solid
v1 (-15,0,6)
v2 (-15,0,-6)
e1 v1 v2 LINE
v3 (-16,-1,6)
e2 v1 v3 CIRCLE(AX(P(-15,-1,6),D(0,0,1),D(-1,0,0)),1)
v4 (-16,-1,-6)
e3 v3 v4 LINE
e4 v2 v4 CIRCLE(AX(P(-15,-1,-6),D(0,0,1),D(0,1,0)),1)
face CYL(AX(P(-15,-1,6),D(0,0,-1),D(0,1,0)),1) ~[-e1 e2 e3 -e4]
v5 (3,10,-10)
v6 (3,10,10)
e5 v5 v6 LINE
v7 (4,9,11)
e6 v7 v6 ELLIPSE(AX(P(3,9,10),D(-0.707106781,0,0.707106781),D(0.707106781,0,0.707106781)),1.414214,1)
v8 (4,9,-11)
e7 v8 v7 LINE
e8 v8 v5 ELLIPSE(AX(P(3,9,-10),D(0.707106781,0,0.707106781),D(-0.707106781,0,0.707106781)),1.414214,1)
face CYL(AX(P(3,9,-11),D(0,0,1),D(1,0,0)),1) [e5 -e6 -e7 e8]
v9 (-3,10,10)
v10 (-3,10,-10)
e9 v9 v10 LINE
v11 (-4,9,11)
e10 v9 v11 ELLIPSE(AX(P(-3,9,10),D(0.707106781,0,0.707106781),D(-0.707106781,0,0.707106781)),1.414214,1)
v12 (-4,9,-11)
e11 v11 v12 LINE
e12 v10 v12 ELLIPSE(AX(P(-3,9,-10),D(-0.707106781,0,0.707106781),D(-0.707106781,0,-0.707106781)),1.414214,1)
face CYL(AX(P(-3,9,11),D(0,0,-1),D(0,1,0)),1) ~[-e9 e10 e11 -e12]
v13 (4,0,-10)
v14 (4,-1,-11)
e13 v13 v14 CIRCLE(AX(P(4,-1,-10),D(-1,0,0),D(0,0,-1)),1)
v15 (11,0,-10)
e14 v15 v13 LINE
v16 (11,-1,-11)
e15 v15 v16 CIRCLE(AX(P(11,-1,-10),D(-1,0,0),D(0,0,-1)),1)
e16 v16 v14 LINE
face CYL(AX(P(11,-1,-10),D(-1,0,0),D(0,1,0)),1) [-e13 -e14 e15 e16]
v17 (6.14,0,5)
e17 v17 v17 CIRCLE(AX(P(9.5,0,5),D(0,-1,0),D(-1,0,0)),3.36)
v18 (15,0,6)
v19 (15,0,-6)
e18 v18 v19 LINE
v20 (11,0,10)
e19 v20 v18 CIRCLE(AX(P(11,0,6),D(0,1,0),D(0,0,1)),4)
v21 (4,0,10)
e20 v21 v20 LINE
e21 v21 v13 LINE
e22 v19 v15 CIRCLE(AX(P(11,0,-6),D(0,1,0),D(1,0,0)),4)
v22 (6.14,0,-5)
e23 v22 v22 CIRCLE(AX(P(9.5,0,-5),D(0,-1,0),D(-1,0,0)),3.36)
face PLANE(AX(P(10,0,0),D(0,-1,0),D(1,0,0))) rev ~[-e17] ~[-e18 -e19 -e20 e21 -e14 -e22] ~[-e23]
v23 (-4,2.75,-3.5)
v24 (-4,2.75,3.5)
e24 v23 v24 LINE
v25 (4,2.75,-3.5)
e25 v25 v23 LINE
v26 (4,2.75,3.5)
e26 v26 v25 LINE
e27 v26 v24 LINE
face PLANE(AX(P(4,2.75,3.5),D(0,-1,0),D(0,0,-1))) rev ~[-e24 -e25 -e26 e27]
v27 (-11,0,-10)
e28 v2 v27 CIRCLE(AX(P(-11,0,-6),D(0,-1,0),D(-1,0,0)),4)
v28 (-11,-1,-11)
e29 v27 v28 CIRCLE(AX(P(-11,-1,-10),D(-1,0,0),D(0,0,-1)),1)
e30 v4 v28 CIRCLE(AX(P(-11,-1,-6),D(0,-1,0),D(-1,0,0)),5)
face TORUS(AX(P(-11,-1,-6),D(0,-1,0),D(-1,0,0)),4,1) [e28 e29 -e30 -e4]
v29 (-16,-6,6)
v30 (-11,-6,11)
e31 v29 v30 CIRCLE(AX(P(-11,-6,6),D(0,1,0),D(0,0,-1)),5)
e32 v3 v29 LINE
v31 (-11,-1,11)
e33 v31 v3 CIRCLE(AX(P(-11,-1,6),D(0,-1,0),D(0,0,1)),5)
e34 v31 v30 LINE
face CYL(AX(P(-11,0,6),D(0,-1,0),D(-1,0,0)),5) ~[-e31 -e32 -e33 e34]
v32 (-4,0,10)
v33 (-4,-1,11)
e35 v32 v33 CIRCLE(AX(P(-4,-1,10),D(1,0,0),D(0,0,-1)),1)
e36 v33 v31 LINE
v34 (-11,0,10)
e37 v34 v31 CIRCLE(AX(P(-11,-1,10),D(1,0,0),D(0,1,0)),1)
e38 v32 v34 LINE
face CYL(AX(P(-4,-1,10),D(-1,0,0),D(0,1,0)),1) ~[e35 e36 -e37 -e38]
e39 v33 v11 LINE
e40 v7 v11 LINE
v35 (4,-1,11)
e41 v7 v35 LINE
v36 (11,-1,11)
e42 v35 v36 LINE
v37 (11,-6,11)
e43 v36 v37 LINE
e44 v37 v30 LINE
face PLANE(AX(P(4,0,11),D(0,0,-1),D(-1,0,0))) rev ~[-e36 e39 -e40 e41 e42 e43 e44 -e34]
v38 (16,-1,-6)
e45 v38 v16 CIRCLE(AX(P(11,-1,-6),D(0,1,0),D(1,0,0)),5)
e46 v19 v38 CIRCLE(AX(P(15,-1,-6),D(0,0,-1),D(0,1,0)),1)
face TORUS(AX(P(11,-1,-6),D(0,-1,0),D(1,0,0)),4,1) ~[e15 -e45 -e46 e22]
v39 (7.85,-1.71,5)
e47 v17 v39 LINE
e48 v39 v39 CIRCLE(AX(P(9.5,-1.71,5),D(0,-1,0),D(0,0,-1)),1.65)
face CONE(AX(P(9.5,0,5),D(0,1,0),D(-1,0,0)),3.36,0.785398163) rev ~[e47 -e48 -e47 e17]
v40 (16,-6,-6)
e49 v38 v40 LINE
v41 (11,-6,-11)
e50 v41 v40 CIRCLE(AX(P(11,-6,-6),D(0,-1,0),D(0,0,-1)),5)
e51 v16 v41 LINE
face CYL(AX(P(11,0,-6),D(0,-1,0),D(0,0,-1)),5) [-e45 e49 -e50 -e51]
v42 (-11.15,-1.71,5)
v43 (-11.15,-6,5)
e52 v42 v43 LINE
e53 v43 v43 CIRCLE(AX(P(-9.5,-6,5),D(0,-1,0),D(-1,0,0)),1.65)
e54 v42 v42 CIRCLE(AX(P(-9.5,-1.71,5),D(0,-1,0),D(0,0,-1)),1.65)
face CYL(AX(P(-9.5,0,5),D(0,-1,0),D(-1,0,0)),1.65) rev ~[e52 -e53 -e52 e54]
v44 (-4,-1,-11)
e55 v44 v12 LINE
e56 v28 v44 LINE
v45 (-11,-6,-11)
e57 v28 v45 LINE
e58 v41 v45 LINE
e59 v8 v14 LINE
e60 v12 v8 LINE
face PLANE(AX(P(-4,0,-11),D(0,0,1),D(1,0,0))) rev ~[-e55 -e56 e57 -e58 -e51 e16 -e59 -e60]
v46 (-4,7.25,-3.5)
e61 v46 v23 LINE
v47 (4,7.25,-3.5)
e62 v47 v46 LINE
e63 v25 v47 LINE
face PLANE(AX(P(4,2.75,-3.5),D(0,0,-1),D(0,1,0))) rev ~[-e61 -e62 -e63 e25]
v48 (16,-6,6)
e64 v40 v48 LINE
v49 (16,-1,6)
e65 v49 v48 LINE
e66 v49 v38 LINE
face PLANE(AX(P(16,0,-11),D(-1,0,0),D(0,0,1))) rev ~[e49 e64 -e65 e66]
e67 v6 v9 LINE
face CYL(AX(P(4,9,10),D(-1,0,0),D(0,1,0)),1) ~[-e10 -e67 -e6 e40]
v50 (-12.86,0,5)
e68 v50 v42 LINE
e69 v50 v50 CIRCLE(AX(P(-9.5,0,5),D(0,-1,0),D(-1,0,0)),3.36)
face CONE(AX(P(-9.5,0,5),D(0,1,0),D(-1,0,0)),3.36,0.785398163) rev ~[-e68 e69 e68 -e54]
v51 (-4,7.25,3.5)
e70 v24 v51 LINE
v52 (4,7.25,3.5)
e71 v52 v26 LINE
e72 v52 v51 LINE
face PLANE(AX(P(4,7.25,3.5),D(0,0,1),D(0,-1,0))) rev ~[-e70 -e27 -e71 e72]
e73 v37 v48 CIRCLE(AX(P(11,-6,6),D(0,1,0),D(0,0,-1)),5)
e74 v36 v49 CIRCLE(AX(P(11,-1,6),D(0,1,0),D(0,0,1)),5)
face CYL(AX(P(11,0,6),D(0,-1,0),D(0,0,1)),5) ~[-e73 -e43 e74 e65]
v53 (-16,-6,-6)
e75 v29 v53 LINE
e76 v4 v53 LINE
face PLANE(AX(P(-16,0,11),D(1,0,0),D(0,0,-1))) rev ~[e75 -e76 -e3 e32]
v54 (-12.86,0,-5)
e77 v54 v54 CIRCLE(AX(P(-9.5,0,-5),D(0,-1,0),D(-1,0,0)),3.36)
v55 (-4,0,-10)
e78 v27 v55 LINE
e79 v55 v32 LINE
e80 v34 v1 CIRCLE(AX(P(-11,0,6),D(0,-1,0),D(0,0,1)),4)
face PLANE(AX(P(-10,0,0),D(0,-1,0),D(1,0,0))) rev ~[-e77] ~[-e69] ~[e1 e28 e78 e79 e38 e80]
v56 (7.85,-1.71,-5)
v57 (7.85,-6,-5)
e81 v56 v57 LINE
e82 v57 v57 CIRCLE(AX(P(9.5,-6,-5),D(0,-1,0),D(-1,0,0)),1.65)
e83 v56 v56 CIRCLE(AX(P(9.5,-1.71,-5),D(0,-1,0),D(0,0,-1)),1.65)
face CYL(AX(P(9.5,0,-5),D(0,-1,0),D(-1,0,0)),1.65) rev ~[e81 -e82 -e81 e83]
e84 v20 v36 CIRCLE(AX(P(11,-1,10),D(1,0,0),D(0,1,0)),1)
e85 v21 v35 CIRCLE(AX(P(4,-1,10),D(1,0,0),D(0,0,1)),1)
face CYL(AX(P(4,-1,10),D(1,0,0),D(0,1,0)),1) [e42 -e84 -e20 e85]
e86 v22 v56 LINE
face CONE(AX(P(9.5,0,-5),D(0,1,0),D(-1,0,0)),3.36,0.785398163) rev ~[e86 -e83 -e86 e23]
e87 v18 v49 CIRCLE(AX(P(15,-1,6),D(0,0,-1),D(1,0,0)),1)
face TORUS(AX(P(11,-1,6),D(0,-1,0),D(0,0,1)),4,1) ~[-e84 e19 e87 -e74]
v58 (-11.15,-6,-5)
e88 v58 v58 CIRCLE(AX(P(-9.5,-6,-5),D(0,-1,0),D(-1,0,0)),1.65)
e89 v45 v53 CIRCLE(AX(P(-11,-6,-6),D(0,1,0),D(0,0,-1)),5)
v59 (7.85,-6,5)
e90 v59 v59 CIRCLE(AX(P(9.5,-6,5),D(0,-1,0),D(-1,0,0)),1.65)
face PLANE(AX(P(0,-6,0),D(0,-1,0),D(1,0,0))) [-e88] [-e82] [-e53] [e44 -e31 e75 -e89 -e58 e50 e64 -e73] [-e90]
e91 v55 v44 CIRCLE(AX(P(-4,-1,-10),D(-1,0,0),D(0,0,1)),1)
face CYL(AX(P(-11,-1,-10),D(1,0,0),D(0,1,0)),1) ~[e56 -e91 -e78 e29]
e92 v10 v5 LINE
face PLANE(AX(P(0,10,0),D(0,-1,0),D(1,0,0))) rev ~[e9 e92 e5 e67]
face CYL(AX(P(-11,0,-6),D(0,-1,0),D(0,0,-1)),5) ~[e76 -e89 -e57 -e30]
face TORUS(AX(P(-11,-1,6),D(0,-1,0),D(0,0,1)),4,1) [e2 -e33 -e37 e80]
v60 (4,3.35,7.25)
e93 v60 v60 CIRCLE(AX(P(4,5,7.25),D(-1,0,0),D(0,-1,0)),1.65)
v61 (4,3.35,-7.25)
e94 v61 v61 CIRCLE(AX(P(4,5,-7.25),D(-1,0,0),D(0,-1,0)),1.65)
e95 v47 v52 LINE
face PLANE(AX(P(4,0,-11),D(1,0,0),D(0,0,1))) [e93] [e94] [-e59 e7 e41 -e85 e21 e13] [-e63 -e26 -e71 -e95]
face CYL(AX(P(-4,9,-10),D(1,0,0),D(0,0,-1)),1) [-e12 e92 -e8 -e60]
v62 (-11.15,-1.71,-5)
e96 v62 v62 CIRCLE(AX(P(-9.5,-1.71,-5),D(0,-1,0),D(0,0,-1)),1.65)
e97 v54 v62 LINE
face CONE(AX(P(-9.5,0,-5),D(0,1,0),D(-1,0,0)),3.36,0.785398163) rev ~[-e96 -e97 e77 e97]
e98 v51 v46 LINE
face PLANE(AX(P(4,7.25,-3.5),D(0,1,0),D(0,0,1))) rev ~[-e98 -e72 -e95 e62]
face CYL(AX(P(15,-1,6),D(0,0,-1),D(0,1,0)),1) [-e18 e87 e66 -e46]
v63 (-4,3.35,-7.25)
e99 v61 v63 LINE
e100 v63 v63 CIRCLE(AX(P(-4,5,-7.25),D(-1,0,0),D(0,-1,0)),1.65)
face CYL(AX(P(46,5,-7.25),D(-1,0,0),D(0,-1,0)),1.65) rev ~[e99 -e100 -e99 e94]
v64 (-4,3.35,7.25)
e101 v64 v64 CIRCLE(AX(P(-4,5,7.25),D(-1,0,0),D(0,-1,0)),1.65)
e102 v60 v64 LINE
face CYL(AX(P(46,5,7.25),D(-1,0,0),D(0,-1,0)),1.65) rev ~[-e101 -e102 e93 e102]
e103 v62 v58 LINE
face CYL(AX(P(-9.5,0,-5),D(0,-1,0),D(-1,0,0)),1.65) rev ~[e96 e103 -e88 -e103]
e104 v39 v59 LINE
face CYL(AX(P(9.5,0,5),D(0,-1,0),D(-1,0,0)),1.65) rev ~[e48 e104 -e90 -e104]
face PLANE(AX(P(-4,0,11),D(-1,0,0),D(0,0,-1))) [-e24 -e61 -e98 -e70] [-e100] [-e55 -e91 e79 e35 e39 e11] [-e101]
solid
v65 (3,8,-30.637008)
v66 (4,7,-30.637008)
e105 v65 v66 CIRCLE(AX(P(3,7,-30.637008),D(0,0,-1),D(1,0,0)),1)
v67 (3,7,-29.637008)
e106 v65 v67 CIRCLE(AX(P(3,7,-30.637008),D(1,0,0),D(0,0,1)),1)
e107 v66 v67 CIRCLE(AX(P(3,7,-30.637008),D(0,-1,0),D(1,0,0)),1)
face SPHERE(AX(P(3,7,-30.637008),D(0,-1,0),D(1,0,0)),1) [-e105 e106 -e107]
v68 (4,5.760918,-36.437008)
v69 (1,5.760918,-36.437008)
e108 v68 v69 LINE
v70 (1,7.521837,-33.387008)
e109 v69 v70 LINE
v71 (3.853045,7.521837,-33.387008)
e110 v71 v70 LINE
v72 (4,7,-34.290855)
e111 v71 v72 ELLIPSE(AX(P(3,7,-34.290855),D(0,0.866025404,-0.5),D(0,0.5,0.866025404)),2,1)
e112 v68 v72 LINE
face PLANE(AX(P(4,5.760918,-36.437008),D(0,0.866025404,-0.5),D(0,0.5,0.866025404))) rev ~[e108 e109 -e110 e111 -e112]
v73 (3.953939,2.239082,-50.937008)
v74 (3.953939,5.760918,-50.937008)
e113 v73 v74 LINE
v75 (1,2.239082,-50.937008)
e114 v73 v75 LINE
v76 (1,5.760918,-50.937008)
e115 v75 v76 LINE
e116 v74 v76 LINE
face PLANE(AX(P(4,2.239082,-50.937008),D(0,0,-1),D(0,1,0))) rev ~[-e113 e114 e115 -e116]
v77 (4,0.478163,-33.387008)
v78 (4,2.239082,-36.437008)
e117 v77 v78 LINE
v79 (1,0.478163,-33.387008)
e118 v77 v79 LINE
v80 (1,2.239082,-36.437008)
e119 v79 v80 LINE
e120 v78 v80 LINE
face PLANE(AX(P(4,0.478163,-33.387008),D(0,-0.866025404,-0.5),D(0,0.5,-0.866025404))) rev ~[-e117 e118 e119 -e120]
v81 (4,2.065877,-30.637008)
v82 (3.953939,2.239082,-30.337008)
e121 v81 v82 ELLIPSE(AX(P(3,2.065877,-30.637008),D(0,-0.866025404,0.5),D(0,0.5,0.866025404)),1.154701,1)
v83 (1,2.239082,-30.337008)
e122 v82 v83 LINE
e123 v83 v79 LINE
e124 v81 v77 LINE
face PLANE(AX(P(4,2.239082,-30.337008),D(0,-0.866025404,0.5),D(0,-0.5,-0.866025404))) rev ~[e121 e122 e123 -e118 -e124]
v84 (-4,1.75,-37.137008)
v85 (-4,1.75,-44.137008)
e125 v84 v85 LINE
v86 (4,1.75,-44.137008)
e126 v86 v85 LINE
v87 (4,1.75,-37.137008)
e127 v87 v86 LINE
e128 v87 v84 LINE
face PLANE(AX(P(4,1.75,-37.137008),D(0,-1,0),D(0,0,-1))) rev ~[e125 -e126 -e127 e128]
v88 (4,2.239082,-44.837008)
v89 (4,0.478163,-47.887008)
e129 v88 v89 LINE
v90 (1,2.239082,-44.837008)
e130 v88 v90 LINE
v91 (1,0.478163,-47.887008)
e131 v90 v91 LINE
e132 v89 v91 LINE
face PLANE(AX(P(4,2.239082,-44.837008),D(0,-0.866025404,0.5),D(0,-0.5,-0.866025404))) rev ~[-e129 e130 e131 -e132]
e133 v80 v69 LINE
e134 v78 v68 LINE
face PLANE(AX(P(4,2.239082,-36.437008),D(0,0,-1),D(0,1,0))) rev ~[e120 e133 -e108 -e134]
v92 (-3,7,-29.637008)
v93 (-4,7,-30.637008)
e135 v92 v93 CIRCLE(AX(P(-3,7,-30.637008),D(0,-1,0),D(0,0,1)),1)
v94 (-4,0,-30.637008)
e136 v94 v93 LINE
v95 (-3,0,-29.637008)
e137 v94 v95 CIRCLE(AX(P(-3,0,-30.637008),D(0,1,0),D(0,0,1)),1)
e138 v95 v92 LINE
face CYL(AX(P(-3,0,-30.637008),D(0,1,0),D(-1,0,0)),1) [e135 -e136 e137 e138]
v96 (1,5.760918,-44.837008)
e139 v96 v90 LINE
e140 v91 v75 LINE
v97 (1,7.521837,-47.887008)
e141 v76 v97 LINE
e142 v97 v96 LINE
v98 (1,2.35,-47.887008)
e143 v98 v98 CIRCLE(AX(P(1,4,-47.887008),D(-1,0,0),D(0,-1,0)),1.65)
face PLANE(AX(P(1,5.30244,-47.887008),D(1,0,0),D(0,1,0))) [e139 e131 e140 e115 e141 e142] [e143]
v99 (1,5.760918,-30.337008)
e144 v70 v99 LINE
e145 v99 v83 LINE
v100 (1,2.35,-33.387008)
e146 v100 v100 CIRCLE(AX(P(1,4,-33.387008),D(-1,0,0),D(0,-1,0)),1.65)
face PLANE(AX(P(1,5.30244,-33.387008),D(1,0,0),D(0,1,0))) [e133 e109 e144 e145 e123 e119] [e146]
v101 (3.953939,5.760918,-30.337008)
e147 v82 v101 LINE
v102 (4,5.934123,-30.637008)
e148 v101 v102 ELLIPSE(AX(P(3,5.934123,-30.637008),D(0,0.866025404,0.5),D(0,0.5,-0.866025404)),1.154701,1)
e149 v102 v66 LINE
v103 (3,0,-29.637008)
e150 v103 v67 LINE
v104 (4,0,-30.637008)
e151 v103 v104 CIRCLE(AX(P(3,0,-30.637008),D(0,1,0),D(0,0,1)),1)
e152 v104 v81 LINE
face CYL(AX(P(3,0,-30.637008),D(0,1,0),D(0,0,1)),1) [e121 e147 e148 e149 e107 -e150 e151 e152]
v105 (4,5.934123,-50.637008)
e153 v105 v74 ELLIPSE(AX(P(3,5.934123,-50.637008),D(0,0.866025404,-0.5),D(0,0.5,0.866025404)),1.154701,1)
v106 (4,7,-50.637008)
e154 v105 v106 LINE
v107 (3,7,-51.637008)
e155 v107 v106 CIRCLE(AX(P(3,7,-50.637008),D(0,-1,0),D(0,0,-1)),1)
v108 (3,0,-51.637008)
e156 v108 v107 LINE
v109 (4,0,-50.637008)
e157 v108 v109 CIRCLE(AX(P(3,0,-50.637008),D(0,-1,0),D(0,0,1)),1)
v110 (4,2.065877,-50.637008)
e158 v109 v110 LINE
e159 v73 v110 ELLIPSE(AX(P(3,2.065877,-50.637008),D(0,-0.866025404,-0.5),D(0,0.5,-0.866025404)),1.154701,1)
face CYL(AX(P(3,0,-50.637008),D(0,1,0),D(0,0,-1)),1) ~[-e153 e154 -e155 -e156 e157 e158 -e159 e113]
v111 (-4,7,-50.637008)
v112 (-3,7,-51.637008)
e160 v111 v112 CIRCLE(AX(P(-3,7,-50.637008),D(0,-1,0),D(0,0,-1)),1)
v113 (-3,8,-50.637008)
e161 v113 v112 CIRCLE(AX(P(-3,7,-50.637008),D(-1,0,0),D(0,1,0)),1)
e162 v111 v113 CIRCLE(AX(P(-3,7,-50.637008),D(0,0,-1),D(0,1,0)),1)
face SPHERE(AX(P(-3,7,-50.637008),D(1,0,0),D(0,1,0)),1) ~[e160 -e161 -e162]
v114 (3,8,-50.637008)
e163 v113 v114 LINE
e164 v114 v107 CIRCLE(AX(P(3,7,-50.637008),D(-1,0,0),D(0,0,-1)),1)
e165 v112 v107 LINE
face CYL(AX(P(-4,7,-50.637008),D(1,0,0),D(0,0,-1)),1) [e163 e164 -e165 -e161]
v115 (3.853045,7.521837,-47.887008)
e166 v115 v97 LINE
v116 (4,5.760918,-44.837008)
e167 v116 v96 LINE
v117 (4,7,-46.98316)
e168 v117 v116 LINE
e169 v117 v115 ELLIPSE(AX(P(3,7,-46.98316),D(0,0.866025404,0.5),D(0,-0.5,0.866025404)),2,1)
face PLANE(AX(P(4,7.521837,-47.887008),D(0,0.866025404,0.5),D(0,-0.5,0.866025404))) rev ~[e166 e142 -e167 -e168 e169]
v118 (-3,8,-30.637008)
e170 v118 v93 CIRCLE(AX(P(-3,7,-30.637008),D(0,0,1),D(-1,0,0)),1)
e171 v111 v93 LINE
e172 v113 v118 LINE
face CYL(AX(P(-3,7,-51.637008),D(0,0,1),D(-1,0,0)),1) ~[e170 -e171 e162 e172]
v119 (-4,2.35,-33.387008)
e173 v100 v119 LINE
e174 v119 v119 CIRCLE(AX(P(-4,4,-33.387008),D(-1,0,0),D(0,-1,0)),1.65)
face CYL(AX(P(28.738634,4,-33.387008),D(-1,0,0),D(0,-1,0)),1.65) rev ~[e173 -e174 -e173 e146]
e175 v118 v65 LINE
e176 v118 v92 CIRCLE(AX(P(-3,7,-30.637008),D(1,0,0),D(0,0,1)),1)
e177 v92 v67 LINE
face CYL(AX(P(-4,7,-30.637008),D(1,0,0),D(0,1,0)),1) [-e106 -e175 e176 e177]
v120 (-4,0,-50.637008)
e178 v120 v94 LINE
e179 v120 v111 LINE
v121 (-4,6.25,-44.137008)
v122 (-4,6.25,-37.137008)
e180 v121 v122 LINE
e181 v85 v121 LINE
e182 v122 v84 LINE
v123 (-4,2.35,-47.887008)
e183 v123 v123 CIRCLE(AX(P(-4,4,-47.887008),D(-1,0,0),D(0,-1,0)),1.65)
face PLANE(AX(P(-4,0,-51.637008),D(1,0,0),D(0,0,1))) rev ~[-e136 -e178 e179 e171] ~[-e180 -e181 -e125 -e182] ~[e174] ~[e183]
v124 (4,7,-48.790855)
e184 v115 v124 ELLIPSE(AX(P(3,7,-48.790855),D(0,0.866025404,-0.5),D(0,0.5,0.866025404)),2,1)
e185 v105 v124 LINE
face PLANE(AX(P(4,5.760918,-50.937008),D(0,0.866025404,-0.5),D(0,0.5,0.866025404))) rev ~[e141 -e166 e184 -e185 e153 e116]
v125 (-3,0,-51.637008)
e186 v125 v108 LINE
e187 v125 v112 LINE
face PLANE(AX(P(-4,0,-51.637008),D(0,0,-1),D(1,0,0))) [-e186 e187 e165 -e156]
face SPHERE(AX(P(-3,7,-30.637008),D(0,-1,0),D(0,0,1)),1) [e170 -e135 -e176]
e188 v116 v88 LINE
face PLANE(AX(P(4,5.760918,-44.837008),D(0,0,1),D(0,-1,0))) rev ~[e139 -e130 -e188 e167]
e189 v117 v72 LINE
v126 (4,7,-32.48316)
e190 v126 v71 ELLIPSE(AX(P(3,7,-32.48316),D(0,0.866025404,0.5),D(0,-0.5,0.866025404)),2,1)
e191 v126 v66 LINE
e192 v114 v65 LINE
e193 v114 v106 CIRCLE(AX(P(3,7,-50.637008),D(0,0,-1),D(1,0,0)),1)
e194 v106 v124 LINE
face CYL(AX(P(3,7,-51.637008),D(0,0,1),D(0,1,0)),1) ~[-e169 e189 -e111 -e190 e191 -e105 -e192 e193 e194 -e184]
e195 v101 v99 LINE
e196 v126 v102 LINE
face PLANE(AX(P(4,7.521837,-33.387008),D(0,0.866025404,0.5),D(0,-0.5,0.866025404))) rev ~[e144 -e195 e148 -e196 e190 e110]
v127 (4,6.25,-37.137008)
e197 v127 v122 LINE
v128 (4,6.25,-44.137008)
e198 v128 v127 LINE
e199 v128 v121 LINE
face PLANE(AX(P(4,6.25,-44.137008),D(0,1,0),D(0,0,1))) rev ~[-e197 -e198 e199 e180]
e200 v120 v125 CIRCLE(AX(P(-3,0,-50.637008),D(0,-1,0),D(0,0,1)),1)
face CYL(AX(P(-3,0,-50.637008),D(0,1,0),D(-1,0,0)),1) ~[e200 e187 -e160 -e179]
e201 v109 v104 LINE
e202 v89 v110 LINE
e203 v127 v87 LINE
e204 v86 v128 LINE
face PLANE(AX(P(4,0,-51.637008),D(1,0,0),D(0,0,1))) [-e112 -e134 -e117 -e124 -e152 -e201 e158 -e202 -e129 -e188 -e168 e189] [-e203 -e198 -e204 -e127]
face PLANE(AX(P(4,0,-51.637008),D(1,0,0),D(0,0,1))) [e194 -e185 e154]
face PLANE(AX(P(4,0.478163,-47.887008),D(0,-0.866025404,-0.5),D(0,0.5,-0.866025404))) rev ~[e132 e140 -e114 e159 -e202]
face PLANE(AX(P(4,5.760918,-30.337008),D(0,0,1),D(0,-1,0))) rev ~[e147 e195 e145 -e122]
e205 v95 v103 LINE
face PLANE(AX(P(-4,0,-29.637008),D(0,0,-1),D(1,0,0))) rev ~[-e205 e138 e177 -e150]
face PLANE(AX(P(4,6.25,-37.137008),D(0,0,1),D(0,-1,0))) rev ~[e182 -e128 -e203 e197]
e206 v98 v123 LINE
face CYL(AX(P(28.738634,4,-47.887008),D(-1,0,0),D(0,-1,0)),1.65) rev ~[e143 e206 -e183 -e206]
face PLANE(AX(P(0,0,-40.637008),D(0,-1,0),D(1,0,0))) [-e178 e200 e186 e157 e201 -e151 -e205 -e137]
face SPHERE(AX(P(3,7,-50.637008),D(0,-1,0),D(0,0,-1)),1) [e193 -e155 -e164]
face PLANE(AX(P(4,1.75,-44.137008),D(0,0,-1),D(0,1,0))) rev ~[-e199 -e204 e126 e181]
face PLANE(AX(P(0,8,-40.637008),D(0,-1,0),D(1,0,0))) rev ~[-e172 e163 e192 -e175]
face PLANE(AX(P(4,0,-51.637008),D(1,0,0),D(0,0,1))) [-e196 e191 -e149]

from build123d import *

# Parameters (mm, degrees)
F1_DEPTH       = 6
F2_DEPTH       = 10
F3_DEPTH       = 6
F4_D           = 3.3
F4_CSINK_D     = 6.72
F4_CSINK_ANGLE = 90
F5_R           = 5
F6_R           = 1
F7_W           = 2.25
F7_H           = 3.5
F8_DEPTH       = 25
F9_D           = 3.3
F10_R          = 1
F11_W          = 8
F11_H          = 22
F12_DEPTH      = 8
F14_D          = 3.3
F13_W          = 2.25
F13_H          = 3.5
F15_DEPTH      = 25
F16_R          = 1
F17_DEPTH      = 3


with BuildPart() as f1:
    # F0 (on Front) → F1 (new body)
    with BuildSketch(Plane.XZ):
        Polygon((-16, 11), (-16, -11), (-4, -11), (-4, 0), (-4, 11), align=None)
        with BuildLine():
            ThreePointArc((-7.4, -5), (-10.9849242405, -6.4849242405), (-9.5, -2.9))
            ThreePointArc((-9.5, -2.9), (-8.0150757595, -3.5150757595), (-7.4, -5))
        make_face(mode=Mode.SUBTRACT)
        with BuildLine():
            ThreePointArc((-7.4, 5), (-8.0150757595, 3.5150757595), (-9.5, 2.9))
            ThreePointArc((-9.5, 2.9), (-10.9849242405, 6.4849242405), (-7.4, 5))
        make_face(mode=Mode.SUBTRACT)
        with BuildLine():
            ThreePointArc((-7.4, 5), (-10.9849242405, 6.4849242405), (-9.5, 2.9))
            ThreePointArc((-9.5, 2.9), (-8.0150757595, 3.5150757595), (-7.4, 5))
        make_face()
        with BuildLine():
            ThreePointArc((-7.4, -5), (-8.0150757595, -3.5150757595), (-9.5, -2.9))
            ThreePointArc((-9.5, -2.9), (-10.9849242405, -6.4849242405), (-7.4, -5))
        make_face()
    extrude(amount=F1_DEPTH)



with BuildPart() as f1b:
    # F0 (on Front) → F1, piece 2 (new body)
    with BuildSketch(Plane.XZ):
        Polygon((4, 0), (4, -11), (16, -11), (16, 11), (4, 11), align=None)
        with BuildLine():
            ThreePointArc((11.6, -5), (8.0150757595, -6.4849242405), (9.5, -2.9))
            ThreePointArc((9.5, -2.9), (10.9849242405, -3.5150757595), (11.6, -5))
        make_face(mode=Mode.SUBTRACT)
        with BuildLine():
            ThreePointArc((11.6, 5), (10.9849242405, 3.5150757595), (9.5, 2.9))
            ThreePointArc((9.5, 2.9), (8.0150757595, 6.4849242405), (11.6, 5))
        make_face(mode=Mode.SUBTRACT)
        with BuildLine():
            ThreePointArc((11.6, 5), (8.0150757595, 6.4849242405), (9.5, 2.9))
            ThreePointArc((9.5, 2.9), (10.9849242405, 3.5150757595), (11.6, 5))
        make_face()
        with BuildLine():
            ThreePointArc((11.6, -5), (10.9849242405, -3.5150757595), (9.5, -2.9))
            ThreePointArc((9.5, -2.9), (8.0150757595, -6.4849242405), (11.6, -5))
        make_face()
    extrude(amount=F1_DEPTH)


with BuildPart() as f1_1:
    add(f1.part)

    add(f1b.part)  # F2 merges F1b
    # F0 (on Front) → F2 (join)
    with BuildSketch(Plane.XZ):
        Polygon((-4, 0), (-4, -11), (4, -11), (4, 0), (4, 11), (-4, 11), align=None)
    extrude(amount=-F2_DEPTH)

    # F0 (on Front) → F3 (join)
    with BuildSketch(Plane.XZ):
        Polygon((-4, 0), (-4, -11), (4, -11), (4, 0), (4, 11), (-4, 11), align=None)
    extrude(amount=F3_DEPTH)

    # F4 (through all)
    with Locations(Plane(origin=(0, 0, 0), x_dir=(1, 0, 0), z_dir=(0, 1, 0))):
        with Locations((9.5, -5), (9.5, 5), (-9.5, -5), (-9.5, 5)):
            CounterSinkHole(F4_D / 2, F4_CSINK_D / 2, counter_sink_angle=F4_CSINK_ANGLE)

    # F5
    f5_edges = [f1_1.edges().sort_by_distance(p)[0] for p in [
        (-16, -3, 11),
        (-16, -3, -11),
        (16, -3, 11),
        (16, -3, -11),
    ]]
    fillet(f5_edges, radius=F5_R)

    # F6
    f6_edges = [f1_1.edges().sort_by_distance(p)[0] for p in [
        (-7.5, 0, 11),
        (14.535534, 0, 9.535534),
    ]]
    fillet(f6_edges, radius=F6_R)

    # F7 (on face) → F8 (cut)
    with BuildSketch(Plane.YZ.offset(4)):
        with Locations((6.125, 1.75)):
            Rectangle(F7_W, F7_H)
        with Locations((6.125, -1.75)):
            Rectangle(F7_W, F7_H)
        Polygon((5, 0), (5, 3.5), (2.75, 3.5), (2.75, 0), (2.75, -3.5), (5, -3.5), align=None)
    extrude(amount=-F8_DEPTH, mode=Mode.SUBTRACT)

    # F9 (through all)
    with Locations(Plane.YZ.offset(4)):
        with Locations((5, 7.25), (5, -7.25)):
            Hole(F9_D / 2)

    # F10
    f10_edges = [f1_1.edges().sort_by_distance(p)[0] for p in [
        (4, 10, 0),
        (0, 10, 11),
        (-4, 10, 0),
        (0, 10, -11),
    ]]
    fillet(f10_edges, radius=F10_R)


with BuildPart() as f12:
    # F11 (on Front) → F12 (new body)
    with BuildSketch(Plane.XZ):
        with Locations((0, -40.6370076567)):
            Rectangle(F11_W, F11_H)
    extrude(amount=-F12_DEPTH)

    # F14 (through all)
    with Locations(Plane.YZ.offset(4)):
        with Locations((4, -33.3870076567), (4, -47.8870076567)):
            Hole(F14_D / 2)

    # F13 (on face) → F15 (cut)
    with BuildSketch(Plane.YZ.offset(4)):
        Polygon((4, -40.6370076567), (4, -37.1370076567), (1.75, -37.1370076567), (1.75, -40.6370076567), (1.75, -44.1370076567), (4, -44.1370076567), align=None)
        with Locations((5.125, -42.3870076567)):
            Rectangle(F13_W, F13_H)
        with Locations((5.125, -38.8870076567)):
            Rectangle(F13_W, F13_H)
    extrude(amount=-F15_DEPTH, mode=Mode.SUBTRACT)

    # F16
    f16_edges = [f12.edges().sort_by_distance(p)[0] for p in [
        (4, 4, -29.637008),
        (-4, 4, -29.637008),
        (4, 4, -51.637008),
        (0, 8, -51.637008),
        (4, 8, -40.637008),
        (0, 8, -29.637008),
        (-4, 8, -40.637008),
        (-4, 4, -51.637008),
    ]]
    fillet(f16_edges, radius=F16_R)

    # F13 (on face) → F17 (cut)
    with BuildSketch(Plane.YZ.offset(4)):
        Polygon((4, -30.3370076567), (4, -36.4370076567), (5.760918321, -36.4370076567), (7.5218366421, -33.3870076567), (5.760918321, -30.3370076567), align=None)
        Polygon((2.239081679, -36.4370076567), (4, -36.4370076567), (4, -30.3370076567), (2.239081679, -30.3370076567), (0.4781633579, -33.3870076567), align=None)
        Polygon((5.760918321, -44.8370076567), (4, -44.8370076567), (4, -50.9370076567), (5.760918321, -50.9370076567), (7.5218366421, -47.8870076567), align=None)
        Polygon((4, -50.9370076567), (4, -44.8370076567), (2.239081679, -44.8370076567), (0.4781633579, -47.8870076567), (2.239081679, -50.9370076567), align=None)
    extrude(amount=-F17_DEPTH, mode=Mode.SUBTRACT)


solid = Compound([f1_1.part, f12.part])
